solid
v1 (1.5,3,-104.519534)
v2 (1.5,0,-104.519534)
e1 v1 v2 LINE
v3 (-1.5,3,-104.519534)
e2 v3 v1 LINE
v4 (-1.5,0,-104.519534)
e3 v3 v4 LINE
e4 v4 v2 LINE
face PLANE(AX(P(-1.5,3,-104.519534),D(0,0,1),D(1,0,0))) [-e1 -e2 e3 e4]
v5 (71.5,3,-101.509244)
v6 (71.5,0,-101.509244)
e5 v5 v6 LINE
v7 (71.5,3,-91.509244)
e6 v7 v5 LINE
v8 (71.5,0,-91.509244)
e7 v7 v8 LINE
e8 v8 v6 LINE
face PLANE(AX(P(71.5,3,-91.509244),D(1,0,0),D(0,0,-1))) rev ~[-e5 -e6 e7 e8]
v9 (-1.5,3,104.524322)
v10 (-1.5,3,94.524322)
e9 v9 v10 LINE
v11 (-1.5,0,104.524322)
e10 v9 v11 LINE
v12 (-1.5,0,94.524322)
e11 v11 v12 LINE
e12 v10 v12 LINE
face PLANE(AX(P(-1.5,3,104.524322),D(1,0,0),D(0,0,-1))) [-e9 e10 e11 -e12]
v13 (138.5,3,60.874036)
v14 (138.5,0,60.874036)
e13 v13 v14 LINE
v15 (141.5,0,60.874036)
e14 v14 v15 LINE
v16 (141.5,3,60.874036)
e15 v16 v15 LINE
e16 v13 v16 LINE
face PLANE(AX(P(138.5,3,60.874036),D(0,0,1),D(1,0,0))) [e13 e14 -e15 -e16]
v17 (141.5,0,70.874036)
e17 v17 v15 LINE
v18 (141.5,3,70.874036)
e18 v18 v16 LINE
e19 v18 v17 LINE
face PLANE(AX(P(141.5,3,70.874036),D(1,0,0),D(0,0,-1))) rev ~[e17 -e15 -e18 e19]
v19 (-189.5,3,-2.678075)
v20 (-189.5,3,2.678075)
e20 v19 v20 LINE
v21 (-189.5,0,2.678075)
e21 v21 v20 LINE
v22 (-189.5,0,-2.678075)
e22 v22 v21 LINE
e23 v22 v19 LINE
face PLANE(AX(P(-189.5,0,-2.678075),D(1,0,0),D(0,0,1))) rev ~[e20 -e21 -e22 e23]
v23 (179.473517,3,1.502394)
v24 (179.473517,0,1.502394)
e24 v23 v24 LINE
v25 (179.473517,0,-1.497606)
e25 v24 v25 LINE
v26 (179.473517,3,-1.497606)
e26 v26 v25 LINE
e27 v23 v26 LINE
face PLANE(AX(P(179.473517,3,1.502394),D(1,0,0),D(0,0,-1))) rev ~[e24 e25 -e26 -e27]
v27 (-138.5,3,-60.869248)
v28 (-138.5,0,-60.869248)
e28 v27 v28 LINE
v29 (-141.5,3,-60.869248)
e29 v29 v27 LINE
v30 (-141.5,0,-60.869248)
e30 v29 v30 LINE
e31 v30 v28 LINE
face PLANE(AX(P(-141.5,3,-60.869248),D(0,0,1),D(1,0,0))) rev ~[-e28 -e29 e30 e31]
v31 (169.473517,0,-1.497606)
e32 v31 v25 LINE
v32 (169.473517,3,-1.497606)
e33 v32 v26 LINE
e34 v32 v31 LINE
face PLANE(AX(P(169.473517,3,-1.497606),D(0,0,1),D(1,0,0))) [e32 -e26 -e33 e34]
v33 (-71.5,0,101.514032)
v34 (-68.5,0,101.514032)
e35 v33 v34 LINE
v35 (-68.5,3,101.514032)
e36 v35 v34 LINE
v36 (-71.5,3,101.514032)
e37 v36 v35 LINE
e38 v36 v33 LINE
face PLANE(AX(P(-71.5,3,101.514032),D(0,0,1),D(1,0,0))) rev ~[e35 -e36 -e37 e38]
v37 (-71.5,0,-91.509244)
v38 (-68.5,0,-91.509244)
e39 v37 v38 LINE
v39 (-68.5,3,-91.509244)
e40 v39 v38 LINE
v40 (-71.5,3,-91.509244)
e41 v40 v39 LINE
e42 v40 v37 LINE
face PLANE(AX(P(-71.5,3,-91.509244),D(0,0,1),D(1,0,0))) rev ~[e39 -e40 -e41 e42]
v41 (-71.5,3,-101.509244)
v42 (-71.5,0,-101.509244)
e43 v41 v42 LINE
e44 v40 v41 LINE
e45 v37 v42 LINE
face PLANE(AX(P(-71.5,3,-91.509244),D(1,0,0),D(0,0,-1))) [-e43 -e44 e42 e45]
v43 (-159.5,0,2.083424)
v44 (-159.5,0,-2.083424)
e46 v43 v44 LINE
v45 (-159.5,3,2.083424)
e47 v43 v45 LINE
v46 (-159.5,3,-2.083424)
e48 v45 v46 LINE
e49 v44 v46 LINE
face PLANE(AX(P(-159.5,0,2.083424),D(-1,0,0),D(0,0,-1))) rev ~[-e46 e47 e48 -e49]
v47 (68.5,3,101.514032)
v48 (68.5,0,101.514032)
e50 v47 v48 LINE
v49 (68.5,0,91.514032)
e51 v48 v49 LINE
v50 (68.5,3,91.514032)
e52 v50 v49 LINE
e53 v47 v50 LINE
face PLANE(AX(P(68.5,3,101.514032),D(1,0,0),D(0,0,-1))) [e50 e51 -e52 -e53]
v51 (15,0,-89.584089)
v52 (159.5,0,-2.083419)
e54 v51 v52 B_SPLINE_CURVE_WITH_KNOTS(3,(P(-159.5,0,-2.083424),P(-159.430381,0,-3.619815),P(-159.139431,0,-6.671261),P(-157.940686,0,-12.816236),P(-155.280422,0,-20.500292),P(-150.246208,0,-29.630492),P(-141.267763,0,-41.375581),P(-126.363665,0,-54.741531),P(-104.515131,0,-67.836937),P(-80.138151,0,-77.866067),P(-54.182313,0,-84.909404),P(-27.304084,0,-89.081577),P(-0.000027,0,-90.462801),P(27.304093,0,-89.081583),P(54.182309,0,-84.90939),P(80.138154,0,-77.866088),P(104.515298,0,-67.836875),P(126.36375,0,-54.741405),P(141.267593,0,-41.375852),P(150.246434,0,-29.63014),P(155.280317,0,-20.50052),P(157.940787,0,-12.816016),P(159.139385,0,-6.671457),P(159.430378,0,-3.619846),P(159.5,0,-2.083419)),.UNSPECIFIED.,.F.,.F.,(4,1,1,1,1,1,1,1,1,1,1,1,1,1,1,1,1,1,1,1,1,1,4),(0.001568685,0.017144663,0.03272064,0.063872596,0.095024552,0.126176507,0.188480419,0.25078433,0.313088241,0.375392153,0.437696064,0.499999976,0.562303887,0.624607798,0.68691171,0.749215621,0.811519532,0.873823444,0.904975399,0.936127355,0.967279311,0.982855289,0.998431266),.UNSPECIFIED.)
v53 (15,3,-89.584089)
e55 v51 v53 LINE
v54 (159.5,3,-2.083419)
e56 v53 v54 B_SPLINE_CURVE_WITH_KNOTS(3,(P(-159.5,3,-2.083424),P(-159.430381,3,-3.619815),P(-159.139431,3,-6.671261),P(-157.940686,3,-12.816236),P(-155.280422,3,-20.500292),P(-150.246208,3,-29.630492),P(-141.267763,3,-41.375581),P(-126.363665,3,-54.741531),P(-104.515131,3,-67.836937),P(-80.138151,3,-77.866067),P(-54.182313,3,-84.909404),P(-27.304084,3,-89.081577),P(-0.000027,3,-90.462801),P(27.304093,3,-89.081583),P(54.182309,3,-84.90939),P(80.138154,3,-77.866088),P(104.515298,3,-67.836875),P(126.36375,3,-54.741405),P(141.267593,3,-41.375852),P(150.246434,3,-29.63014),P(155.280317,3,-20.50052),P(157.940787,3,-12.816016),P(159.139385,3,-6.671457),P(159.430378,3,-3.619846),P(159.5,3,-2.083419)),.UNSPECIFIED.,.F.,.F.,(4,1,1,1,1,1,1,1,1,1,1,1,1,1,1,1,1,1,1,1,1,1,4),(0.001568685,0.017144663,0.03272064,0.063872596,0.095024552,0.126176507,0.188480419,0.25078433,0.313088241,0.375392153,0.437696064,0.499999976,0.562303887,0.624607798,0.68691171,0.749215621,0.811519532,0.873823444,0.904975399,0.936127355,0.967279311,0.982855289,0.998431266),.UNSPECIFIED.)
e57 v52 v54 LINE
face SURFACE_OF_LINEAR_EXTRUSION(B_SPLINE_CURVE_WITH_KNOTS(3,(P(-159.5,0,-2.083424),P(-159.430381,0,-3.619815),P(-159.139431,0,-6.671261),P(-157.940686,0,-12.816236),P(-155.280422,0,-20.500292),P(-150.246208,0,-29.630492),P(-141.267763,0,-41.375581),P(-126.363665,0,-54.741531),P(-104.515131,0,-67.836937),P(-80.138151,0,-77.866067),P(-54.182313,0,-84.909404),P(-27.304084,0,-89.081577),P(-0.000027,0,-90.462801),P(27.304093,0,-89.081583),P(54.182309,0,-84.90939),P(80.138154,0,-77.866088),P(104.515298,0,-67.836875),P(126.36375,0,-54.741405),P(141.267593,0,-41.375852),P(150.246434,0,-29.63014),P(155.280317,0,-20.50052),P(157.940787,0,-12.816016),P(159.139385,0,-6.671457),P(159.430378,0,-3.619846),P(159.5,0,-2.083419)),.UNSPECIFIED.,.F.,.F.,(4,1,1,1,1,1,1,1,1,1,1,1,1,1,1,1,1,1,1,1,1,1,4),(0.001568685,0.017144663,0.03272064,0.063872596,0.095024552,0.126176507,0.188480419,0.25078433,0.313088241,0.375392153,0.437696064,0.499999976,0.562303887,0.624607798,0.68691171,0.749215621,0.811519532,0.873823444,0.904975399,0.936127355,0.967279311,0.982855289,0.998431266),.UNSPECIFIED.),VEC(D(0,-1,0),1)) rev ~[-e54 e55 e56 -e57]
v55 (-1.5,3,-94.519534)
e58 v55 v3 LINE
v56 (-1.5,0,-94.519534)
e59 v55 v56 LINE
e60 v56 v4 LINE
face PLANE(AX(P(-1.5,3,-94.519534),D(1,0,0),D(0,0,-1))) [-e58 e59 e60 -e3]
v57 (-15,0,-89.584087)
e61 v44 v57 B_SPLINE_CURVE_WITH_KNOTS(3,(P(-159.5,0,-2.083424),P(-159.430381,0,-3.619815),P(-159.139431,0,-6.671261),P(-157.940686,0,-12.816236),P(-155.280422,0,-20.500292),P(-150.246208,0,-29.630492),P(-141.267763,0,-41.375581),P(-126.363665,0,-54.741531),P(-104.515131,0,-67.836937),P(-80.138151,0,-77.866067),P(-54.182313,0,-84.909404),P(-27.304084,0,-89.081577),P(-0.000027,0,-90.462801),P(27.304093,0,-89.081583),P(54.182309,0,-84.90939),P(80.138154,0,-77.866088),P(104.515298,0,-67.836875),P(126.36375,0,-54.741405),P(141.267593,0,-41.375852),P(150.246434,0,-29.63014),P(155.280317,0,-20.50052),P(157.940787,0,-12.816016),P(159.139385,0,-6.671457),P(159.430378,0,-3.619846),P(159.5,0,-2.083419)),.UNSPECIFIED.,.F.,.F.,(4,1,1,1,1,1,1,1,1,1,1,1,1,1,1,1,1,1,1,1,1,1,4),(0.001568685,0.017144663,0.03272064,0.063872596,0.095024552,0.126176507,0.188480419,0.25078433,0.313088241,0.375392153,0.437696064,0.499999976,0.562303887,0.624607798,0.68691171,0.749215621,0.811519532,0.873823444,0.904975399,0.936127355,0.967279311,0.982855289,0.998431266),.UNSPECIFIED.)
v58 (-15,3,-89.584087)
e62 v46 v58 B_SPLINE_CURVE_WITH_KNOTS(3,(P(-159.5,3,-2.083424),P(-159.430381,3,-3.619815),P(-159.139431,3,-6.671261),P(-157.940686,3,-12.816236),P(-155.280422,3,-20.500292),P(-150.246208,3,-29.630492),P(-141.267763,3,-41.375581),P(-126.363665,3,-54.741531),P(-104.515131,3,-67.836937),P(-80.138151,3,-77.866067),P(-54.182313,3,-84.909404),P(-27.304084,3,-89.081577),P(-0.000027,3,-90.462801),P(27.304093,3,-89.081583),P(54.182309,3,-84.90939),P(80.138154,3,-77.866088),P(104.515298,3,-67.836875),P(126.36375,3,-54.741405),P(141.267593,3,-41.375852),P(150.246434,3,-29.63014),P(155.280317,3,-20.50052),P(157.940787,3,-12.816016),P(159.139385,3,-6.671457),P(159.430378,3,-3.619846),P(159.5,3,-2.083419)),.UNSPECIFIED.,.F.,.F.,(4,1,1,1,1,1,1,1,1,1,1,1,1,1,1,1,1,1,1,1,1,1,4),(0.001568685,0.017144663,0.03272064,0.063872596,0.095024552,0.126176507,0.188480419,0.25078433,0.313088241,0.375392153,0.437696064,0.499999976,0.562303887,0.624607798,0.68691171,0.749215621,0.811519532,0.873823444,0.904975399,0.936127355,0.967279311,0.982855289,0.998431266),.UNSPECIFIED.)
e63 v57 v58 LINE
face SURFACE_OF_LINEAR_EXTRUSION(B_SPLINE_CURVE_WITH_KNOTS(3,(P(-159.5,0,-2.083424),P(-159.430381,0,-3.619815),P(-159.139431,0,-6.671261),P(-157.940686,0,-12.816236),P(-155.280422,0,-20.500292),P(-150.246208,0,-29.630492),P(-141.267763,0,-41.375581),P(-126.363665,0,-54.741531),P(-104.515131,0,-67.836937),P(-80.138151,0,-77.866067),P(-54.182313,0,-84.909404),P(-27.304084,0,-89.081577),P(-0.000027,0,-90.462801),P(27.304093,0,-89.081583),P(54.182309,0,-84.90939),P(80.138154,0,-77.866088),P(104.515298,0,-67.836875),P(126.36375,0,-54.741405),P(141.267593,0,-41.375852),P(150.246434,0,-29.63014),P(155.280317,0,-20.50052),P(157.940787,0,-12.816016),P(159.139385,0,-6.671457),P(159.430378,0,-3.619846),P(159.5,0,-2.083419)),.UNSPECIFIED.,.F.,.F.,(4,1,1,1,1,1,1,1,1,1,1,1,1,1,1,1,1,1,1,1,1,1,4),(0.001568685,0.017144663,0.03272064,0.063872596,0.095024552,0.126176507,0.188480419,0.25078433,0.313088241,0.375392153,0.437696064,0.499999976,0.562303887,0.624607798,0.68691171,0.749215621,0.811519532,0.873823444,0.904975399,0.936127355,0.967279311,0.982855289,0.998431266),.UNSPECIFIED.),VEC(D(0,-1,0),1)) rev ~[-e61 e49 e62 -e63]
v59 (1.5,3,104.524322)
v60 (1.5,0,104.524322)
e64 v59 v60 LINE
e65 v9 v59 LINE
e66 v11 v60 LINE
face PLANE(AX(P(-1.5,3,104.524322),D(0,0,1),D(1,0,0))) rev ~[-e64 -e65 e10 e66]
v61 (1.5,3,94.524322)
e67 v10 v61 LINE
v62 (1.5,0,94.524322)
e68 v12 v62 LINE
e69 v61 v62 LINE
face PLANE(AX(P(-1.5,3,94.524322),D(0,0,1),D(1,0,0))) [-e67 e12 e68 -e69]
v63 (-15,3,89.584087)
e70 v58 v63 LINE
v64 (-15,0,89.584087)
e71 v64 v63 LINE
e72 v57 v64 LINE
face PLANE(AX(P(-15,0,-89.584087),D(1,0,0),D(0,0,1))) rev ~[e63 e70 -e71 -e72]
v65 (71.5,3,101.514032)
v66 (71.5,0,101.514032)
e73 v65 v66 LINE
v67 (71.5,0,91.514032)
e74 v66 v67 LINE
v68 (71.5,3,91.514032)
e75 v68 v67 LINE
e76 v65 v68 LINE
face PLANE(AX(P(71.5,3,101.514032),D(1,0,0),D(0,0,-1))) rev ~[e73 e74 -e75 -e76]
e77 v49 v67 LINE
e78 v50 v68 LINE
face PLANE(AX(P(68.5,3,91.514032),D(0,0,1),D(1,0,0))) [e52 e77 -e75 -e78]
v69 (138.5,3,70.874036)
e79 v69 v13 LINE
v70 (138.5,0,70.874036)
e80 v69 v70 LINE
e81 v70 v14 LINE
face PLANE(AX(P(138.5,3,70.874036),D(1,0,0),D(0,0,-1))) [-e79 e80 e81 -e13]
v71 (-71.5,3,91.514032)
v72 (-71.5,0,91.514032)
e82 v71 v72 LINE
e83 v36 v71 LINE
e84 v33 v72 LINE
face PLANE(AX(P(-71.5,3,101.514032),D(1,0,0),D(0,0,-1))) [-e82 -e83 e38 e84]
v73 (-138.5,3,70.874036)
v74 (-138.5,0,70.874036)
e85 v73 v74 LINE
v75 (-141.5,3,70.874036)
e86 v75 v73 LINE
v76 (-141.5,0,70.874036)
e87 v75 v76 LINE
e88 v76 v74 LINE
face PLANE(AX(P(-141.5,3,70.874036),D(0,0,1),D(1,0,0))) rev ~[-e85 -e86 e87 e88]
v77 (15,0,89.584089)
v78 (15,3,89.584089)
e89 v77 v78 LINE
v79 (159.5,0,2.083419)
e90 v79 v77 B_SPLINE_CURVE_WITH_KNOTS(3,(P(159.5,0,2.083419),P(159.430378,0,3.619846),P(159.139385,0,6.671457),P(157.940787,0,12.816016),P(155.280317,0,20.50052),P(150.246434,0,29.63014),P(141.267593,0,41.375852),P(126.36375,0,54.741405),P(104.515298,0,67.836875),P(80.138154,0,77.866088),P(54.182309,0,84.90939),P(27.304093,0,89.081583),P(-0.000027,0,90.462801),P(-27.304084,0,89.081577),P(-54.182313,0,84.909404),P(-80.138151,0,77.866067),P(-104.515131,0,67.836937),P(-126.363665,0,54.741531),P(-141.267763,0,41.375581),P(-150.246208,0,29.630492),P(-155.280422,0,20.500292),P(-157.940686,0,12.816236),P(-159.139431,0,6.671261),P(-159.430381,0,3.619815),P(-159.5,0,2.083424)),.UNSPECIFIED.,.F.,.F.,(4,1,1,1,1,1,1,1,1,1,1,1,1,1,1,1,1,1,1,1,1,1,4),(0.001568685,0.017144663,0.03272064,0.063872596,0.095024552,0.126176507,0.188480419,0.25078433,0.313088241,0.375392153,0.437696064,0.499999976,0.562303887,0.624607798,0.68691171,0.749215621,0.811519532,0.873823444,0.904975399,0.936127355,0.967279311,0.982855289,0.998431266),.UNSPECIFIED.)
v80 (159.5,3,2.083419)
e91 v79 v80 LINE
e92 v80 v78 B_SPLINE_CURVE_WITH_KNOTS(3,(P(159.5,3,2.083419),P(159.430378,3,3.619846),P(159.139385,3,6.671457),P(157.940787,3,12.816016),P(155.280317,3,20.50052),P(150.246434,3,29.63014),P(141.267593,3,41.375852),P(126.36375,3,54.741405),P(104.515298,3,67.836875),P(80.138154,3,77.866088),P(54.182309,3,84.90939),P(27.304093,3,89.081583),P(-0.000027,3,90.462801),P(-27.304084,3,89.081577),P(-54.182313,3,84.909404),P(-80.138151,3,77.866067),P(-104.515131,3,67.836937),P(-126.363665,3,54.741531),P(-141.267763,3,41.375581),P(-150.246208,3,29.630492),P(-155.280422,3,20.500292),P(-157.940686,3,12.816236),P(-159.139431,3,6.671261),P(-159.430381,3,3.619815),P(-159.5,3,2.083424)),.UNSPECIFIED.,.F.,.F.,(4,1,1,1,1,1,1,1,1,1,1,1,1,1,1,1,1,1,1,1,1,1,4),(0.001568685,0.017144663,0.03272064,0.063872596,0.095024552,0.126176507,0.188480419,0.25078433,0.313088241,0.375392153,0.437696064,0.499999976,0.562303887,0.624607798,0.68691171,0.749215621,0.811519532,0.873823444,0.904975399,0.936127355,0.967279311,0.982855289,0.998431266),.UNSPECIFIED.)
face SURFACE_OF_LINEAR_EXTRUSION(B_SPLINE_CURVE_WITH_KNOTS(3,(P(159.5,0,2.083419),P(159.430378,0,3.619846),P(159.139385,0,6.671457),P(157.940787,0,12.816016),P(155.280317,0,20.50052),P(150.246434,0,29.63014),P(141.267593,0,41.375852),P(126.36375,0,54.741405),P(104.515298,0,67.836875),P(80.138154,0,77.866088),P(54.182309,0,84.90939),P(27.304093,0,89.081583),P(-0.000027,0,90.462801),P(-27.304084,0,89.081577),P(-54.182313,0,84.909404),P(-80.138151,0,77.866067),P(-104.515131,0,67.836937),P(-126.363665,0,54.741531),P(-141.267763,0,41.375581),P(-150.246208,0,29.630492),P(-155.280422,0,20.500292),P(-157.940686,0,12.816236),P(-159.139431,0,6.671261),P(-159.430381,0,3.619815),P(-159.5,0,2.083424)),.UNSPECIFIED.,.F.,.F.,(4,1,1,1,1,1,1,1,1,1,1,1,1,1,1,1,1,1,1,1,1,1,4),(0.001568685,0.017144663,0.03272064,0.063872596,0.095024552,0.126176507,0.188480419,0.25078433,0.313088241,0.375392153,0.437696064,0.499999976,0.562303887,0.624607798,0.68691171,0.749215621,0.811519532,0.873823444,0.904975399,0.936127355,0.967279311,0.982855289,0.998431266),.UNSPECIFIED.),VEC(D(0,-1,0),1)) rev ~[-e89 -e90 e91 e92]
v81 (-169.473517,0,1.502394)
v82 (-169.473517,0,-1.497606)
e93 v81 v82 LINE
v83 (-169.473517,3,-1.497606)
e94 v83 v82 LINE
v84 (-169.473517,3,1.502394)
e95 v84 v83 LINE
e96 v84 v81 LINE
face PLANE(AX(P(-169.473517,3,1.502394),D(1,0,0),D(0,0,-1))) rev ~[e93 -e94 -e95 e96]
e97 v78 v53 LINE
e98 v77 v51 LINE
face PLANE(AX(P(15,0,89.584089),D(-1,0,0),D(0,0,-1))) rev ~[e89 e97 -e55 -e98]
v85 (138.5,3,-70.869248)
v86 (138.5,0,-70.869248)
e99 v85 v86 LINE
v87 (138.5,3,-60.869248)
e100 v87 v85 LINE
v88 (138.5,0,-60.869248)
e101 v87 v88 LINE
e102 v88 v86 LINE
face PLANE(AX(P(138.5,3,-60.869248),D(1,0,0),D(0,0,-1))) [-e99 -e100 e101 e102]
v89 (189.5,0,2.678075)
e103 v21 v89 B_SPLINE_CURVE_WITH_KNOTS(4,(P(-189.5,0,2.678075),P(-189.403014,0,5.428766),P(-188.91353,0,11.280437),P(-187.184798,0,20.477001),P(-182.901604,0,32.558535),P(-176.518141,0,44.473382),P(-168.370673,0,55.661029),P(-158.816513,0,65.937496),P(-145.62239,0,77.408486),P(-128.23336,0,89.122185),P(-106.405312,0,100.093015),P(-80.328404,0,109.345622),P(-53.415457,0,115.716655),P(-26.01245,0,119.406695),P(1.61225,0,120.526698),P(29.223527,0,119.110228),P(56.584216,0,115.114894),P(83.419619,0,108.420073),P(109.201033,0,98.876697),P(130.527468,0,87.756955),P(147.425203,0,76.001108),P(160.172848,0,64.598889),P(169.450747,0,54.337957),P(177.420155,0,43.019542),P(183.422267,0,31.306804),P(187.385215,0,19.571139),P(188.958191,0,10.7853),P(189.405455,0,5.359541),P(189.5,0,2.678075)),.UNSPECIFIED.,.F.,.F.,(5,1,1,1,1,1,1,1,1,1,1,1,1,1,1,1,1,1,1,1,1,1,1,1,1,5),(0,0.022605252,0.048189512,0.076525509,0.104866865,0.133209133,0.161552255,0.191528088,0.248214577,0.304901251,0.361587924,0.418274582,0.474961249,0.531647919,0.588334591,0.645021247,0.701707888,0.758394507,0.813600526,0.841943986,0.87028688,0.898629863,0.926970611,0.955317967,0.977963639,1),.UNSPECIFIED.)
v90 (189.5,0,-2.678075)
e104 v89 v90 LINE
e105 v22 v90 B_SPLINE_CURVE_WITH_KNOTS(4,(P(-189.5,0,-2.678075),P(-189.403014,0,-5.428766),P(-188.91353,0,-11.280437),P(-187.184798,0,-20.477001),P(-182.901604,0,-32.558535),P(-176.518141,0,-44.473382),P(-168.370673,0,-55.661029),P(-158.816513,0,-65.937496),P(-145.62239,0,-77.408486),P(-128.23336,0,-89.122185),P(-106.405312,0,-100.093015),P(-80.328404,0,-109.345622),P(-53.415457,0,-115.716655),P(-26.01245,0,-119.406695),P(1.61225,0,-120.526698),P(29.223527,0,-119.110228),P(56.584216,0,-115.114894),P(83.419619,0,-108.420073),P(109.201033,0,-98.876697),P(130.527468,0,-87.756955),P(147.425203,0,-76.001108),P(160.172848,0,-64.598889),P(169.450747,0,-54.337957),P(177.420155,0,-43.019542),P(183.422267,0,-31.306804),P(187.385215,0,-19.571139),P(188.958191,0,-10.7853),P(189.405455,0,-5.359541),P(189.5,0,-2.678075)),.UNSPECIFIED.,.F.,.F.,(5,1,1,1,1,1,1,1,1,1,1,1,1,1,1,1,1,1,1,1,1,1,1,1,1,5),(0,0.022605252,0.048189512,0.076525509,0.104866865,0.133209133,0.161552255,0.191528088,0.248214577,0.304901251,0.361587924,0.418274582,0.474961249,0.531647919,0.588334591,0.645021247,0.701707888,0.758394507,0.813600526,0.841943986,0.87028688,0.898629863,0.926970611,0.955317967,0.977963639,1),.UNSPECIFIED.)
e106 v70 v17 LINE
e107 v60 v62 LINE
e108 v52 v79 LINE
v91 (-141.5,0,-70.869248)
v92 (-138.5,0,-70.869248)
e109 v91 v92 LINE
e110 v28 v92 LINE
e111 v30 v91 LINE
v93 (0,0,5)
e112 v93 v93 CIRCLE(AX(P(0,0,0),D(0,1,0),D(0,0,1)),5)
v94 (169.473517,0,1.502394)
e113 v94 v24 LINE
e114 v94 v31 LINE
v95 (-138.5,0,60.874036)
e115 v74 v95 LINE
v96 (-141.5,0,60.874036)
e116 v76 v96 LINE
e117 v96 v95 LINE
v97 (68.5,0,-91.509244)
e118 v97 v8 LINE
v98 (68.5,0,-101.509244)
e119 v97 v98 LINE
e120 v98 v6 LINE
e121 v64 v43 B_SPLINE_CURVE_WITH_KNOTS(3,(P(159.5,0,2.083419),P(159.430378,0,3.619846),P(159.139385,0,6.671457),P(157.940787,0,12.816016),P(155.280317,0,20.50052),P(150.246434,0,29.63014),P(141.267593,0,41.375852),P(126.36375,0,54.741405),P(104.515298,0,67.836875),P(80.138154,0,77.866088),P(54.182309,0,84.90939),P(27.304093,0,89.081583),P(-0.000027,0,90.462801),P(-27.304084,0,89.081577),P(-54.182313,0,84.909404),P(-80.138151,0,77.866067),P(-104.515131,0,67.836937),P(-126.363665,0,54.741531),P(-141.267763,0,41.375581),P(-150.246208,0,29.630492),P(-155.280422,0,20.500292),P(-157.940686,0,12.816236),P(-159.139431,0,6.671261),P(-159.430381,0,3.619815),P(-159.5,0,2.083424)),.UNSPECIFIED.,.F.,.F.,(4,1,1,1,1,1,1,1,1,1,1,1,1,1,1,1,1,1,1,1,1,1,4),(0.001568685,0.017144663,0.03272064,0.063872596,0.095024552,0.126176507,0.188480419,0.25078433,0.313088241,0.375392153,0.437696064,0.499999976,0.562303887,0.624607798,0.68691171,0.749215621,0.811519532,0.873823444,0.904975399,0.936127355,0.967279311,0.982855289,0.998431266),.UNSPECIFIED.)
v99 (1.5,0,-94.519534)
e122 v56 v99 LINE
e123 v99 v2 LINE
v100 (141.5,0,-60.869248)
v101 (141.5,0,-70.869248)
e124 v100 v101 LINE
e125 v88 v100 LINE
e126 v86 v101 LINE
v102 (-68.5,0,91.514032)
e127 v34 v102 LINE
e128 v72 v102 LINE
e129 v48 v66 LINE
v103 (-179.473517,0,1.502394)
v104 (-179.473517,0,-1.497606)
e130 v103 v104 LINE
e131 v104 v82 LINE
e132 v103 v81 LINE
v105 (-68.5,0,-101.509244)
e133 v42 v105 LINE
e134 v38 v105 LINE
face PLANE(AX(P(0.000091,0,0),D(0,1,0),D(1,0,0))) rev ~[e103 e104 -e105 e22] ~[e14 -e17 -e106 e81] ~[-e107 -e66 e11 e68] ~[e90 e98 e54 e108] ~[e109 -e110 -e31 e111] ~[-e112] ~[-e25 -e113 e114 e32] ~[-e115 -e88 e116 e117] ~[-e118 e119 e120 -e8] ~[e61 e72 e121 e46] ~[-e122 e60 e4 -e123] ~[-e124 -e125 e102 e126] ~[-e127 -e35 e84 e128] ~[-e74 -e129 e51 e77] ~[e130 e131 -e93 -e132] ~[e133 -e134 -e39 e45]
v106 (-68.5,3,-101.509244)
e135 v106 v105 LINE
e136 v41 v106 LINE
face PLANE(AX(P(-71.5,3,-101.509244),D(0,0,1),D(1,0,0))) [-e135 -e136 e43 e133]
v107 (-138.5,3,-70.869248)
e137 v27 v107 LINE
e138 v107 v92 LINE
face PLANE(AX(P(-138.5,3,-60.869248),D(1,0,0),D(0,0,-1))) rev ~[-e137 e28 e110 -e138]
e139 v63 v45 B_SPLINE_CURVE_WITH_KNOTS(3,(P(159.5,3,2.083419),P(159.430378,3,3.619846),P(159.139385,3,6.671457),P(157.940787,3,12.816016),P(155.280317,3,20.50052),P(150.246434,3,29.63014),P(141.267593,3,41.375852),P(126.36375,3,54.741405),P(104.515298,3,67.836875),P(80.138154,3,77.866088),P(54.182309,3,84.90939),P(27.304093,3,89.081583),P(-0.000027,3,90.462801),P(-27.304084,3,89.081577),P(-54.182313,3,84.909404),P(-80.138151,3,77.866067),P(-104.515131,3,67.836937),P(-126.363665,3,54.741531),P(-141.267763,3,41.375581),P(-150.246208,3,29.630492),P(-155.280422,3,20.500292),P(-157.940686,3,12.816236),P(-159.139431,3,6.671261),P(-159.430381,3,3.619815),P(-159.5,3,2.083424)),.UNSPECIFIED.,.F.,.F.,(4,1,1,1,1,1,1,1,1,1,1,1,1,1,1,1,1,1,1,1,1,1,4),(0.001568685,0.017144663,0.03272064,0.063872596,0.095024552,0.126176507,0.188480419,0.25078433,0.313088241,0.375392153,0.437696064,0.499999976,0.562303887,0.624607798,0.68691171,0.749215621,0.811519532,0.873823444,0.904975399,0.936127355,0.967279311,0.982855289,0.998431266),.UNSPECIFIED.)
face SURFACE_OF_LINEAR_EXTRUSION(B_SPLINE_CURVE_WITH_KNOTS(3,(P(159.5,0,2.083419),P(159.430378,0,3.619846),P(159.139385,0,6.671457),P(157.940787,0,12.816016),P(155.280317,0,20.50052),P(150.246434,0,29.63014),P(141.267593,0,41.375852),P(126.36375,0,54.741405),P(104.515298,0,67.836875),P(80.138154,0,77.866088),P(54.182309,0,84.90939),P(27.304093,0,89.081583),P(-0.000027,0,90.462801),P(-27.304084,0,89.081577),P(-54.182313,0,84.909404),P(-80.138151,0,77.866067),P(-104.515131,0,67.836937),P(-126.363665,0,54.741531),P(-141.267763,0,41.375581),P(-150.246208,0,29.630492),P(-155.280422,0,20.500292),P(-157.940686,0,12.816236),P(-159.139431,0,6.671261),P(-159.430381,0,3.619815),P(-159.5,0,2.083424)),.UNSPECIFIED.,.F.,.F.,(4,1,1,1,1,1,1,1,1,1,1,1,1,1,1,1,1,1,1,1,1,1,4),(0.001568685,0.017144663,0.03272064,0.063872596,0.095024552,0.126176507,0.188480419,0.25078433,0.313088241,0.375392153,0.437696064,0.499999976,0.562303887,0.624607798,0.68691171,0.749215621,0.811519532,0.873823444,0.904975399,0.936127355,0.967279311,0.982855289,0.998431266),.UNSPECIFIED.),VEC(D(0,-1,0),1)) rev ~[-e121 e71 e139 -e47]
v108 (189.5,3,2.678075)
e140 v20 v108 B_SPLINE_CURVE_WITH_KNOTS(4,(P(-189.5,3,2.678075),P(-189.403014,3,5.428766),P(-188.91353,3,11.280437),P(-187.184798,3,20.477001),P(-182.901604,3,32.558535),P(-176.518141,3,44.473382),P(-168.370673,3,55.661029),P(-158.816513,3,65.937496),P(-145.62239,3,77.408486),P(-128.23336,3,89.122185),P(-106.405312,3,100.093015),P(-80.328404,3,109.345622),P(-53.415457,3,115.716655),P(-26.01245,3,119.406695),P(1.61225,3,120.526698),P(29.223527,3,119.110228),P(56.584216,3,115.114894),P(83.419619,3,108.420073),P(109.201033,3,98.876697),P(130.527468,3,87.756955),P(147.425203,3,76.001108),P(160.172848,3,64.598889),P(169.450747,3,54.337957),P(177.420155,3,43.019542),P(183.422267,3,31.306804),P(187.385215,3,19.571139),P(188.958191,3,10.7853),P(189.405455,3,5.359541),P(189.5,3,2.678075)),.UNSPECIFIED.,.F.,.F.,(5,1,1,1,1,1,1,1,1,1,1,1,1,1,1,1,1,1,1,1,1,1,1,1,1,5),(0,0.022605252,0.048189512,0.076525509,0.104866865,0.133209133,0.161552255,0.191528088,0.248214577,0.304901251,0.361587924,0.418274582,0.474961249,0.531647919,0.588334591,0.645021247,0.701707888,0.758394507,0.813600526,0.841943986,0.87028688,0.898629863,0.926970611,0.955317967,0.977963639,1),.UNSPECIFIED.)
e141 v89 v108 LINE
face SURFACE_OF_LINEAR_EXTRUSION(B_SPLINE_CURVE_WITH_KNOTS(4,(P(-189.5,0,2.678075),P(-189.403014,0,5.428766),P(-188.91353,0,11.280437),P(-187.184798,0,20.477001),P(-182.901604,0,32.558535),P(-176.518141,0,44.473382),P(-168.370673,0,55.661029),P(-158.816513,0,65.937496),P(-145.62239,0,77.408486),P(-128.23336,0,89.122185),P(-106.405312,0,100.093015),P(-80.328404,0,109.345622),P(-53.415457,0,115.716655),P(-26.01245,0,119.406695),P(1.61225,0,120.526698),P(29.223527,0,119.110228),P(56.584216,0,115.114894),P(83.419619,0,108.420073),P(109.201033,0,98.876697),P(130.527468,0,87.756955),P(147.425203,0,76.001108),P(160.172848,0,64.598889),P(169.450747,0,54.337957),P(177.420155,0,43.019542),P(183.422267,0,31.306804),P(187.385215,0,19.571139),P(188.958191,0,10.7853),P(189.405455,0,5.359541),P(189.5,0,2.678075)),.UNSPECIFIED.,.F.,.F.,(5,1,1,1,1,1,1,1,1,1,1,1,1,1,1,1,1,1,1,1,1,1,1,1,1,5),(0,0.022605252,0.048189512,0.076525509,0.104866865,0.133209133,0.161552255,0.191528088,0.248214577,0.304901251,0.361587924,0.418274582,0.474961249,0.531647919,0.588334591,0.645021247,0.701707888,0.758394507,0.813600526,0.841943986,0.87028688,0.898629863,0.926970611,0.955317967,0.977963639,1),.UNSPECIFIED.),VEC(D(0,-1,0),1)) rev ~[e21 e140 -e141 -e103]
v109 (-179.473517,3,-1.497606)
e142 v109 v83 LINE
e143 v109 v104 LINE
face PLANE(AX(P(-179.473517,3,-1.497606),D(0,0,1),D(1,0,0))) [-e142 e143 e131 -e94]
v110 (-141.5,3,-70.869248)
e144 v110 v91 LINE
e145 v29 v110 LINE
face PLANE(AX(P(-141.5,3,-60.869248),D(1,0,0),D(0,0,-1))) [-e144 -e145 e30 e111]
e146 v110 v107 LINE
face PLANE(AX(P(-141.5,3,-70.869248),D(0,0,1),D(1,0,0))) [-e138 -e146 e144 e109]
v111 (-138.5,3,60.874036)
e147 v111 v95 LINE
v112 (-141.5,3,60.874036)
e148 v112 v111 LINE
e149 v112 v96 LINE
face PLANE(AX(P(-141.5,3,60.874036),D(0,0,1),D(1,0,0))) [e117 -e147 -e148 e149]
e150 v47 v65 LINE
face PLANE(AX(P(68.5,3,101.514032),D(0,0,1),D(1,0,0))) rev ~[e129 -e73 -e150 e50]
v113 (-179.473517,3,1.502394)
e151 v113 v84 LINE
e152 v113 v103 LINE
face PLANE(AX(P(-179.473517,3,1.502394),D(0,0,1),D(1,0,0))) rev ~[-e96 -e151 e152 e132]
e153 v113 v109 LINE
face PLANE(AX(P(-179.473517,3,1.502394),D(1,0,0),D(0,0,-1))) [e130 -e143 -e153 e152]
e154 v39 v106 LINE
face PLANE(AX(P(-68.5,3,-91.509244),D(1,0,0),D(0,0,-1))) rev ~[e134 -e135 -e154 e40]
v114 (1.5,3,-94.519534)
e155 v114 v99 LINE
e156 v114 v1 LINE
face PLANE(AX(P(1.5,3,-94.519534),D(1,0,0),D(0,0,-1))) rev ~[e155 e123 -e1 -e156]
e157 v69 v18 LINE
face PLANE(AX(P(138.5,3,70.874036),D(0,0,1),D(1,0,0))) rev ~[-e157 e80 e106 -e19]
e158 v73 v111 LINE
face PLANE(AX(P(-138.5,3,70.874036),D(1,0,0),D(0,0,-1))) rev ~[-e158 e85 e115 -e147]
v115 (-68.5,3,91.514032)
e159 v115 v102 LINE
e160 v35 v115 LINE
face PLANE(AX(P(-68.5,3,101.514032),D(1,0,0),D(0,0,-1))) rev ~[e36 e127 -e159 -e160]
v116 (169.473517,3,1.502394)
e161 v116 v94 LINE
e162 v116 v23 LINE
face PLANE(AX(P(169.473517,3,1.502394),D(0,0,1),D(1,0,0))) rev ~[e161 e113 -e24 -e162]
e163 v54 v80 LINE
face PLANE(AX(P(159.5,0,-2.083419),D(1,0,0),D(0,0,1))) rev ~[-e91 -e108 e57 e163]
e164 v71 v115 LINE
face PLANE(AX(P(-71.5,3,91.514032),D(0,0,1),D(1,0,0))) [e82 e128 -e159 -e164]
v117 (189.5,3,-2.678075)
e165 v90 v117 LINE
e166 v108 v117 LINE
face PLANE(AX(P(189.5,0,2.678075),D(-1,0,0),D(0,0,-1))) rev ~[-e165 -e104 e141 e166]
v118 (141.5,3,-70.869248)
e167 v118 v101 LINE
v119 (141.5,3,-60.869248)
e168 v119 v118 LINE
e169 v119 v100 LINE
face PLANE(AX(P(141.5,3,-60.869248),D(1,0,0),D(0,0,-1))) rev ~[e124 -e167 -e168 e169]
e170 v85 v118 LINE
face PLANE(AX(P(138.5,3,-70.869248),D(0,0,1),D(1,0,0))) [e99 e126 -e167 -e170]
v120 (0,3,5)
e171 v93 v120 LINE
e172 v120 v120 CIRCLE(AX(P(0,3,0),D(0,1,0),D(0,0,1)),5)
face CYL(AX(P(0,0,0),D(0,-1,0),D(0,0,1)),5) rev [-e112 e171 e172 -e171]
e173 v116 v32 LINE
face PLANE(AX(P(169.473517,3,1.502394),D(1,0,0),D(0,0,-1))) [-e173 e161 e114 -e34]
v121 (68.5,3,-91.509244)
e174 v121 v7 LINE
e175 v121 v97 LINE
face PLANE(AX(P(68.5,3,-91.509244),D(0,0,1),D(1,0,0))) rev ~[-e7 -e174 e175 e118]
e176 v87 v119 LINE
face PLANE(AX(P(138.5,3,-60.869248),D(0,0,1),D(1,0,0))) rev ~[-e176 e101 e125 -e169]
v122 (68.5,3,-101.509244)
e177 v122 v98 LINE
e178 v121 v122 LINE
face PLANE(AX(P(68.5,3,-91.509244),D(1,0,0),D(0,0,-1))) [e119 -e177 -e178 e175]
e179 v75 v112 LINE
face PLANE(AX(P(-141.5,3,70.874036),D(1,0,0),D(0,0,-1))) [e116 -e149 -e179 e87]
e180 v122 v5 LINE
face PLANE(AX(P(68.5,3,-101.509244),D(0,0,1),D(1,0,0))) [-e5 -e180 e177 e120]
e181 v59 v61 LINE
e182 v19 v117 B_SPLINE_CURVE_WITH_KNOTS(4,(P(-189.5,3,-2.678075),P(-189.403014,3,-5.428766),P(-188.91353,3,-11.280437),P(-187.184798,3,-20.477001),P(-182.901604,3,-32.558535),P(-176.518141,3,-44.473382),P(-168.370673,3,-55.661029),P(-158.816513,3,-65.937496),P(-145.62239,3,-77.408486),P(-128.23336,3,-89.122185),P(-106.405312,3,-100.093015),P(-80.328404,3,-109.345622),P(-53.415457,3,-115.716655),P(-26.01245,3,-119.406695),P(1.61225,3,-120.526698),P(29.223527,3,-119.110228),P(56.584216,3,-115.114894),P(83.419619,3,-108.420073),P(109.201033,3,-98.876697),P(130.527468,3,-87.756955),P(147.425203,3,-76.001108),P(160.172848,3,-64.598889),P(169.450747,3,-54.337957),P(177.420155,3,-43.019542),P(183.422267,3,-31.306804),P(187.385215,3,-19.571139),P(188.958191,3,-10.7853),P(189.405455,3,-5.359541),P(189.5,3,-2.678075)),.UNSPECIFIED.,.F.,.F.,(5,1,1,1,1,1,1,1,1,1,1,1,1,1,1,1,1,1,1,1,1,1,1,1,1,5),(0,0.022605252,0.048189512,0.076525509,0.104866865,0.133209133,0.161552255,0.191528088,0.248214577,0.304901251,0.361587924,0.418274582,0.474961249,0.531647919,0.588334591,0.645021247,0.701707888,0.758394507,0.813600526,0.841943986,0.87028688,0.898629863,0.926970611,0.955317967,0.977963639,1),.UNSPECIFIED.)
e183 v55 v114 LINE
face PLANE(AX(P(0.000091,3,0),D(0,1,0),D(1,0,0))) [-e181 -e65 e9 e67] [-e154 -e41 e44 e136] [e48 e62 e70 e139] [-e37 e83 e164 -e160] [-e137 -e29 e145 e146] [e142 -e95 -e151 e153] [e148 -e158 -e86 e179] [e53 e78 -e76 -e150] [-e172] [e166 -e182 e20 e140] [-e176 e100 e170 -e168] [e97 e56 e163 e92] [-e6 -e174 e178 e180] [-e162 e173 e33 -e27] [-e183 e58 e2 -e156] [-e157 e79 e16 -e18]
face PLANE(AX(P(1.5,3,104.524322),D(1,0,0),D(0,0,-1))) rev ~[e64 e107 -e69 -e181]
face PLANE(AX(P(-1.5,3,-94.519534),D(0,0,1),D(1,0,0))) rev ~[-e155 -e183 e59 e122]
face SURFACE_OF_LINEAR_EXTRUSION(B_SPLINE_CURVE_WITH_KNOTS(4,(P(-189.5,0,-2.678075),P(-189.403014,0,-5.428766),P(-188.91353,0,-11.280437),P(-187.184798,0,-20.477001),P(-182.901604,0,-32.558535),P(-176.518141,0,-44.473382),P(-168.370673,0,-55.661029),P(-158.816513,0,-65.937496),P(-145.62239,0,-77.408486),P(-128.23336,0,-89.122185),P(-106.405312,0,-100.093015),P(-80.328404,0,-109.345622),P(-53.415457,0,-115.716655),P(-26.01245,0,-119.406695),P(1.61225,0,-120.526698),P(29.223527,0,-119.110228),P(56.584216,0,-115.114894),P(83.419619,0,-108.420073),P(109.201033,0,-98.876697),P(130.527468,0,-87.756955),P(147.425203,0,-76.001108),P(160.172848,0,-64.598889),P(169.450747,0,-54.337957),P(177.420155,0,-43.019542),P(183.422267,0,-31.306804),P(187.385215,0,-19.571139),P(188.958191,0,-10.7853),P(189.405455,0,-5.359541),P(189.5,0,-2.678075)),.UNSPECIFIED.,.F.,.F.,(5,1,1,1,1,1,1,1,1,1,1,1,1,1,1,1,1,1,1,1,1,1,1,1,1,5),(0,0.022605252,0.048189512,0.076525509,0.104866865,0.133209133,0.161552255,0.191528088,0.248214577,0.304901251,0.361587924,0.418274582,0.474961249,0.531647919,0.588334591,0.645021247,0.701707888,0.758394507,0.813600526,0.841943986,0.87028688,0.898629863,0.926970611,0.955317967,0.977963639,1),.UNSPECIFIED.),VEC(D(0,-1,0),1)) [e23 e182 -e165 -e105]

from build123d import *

# Parameters (mm, degrees)
SKETCH_1_R          = 5
EXTRUDE_1_DEPTH     = 3
SKETCH_2_W          = 3
SKETCH_2_H          = 10
SKETCH_2_W_2        = 10
SKETCH_2_H_2        = 3
CUT_EXTRUDE_1_DEPTH = 225.320807502


with BuildPart() as part:
    # 草图1 → 凸台-拉伸1 (new body)
    # profile 1 of 2: a face of its own
    with BuildSketch(Plane(origin=(0, 0, 0), x_dir=(1, 0, 0), z_dir=(0, 1, 0))):
        with BuildLine():
            Line((-189.5, 2.67807522), (-189.5, -2.67807522))
            add(Edge.make_bspline(
                [(-189.5, -2.67807522), (-189.403013737, -5.4287659), (-188.913529521, -11.280436832), (-187.184797767, -20.477000703), (-182.901604371, -32.558534689), (-176.518140993, -44.473382271), (-168.370672682, -55.661029172), (-158.816512899, -65.937496211), (-145.622389947, -77.408485785), (-128.233359888, -89.122185343), (-106.405311843, -100.093014988), (-80.328404186, -109.345622083), (-53.415456511, -115.716654886), (-26.01245021, -119.406694681), (1.612249886, -120.52669773), (29.223526803, -119.1102282), (56.584216313, -115.114894197), (83.419619157, -108.420073225), (109.201033267, -98.876697436), (130.527468144, -87.756954706), (147.425203381, -76.001107817), (160.172847856, -64.598888808), (169.450747209, -54.337956503), (177.420154922, -43.019542435), (183.422267467, -31.306804293), (187.385215446, -19.571139093), (188.958191111, -10.7853005), (189.405454524, -5.359541143), (189.5, -2.67807522)],
                knots=[0, 0, 0, 0, 0, 0.022605252, 0.048189512, 0.076525509, 0.104866865, 0.133209133, 0.161552255, 0.191528088, 0.248214577, 0.304901251, 0.361587924, 0.418274582, 0.474961249, 0.531647919, 0.588334591, 0.645021247, 0.701707888, 0.758394507, 0.813600526, 0.841943986, 0.87028688, 0.898629863, 0.926970611, 0.955317967, 0.977963639, 1, 1, 1, 1, 1], degree=4))
            Line((189.5, -2.67807522), (189.5, 2.67807522))
            add(Edge.make_bspline(
                [(-189.5, 2.67807522), (-189.403013737, 5.4287659), (-188.913529521, 11.280436832), (-187.184797767, 20.477000703), (-182.901604371, 32.558534689), (-176.518140993, 44.473382271), (-168.370672682, 55.661029172), (-158.816512899, 65.937496211), (-145.622389947, 77.408485785), (-128.233359888, 89.122185343), (-106.405311843, 100.093014988), (-80.328404186, 109.345622083), (-53.415456511, 115.716654886), (-26.01245021, 119.406694681), (1.612249886, 120.52669773), (29.223526803, 119.1102282), (56.584216313, 115.114894197), (83.419619157, 108.420073225), (109.201033267, 98.876697436), (130.527468144, 87.756954706), (147.425203381, 76.001107817), (160.172847856, 64.598888808), (169.450747209, 54.337956503), (177.420154922, 43.019542435), (183.422267467, 31.306804293), (187.385215446, 19.571139093), (188.958191111, 10.7853005), (189.405454524, 5.359541143), (189.5, 2.67807522)],
                knots=[0, 0, 0, 0, 0, 0.022605252, 0.048189512, 0.076525509, 0.104866865, 0.133209133, 0.161552255, 0.191528088, 0.248214577, 0.304901251, 0.361587924, 0.418274582, 0.474961249, 0.531647919, 0.588334591, 0.645021247, 0.701707888, 0.758394507, 0.813600526, 0.841943986, 0.87028688, 0.898629863, 0.926970611, 0.955317967, 0.977963639, 1, 1, 1, 1, 1], degree=4))
        make_face()
        with BuildLine():
            Line((159.5, 2.083418932), (159.5, -2.083418932))
            add(Edge.make_bspline(
                [(159.5, -2.083418932), (159.430377933, -3.619846345), (159.139385215, -6.671456978), (157.940786615, -12.816015531), (155.280316673, -20.500519912), (150.2464343, -29.63014035), (141.267593425, -41.375851732), (126.3637498, -54.741405415), (104.515298354, -67.83687478), (80.138153839, -77.866087876), (54.182309112, -84.909390201), (27.304092868, -89.081582998), (-2.6913e-05, -90.462801356), (-27.304083634, -89.081576827), (-54.182312778, -84.909404424), (-80.138151247, -77.866066645), (-104.515130919, -67.836936962), (-126.363664513, -54.74153076), (-141.267763099, -41.375581268), (-150.246208112, -29.630491802), (-155.280421928, -20.500291974), (-157.940686294, -12.816236482), (-159.139431477, -6.671261076), (-159.43038084, -3.619814978), (-159.5, -2.083423638)],
                knots=[0.001568685, 0.001568685, 0.001568685, 0.001568685, 0.017144663, 0.03272064, 0.063872596, 0.095024552, 0.126176507, 0.188480419, 0.25078433, 0.313088241, 0.375392153, 0.437696064, 0.499999976, 0.562303887, 0.624607798, 0.68691171, 0.749215621, 0.811519532, 0.873823444, 0.904975399, 0.936127355, 0.967279311, 0.982855289, 0.998431266, 0.998431266, 0.998431266, 0.998431266], degree=3))
            Line((-159.5, -2.083423638), (-159.5, 2.083423638))
            add(Edge.make_bspline(
                [(-159.5, 2.083423638), (-159.43038084, 3.619814978), (-159.139431477, 6.671261076), (-157.940686294, 12.816236482), (-155.280421928, 20.500291974), (-150.246208112, 29.630491802), (-141.267763099, 41.375581268), (-126.363664513, 54.74153076), (-104.515130919, 67.836936962), (-80.138151247, 77.866066645), (-54.182312778, 84.909404424), (-27.304083634, 89.081576827), (-2.6913e-05, 90.462801356), (27.304092868, 89.081582998), (54.182309112, 84.909390201), (80.138153839, 77.866087876), (104.515298354, 67.83687478), (126.3637498, 54.741405415), (141.267593425, 41.375851732), (150.2464343, 29.63014035), (155.280316673, 20.500519912), (157.940786615, 12.816015531), (159.139385215, 6.671456978), (159.430377933, 3.619846345), (159.5, 2.083418932)],
                knots=[0.001568685, 0.001568685, 0.001568685, 0.001568685, 0.017144663, 0.03272064, 0.063872596, 0.095024552, 0.126176507, 0.188480419, 0.25078433, 0.313088241, 0.375392153, 0.437696064, 0.499999976, 0.562303887, 0.624607798, 0.68691171, 0.749215621, 0.811519532, 0.873823444, 0.904975399, 0.936127355, 0.967279311, 0.982855289, 0.998431266, 0.998431266, 0.998431266, 0.998431266], degree=3))
        make_face(mode=Mode.SUBTRACT)
    # profile 2 of 2: a face of its own
    with BuildSketch(Plane(origin=(0, 0, 0), x_dir=(1, 0, 0), z_dir=(0, 1, 0))):
        with BuildLine():
            Line((15, -89.584088933), (15, 89.584088933))
            add(Edge.make_bspline(
                [(-15, 89.584087357), (-10.007870789, 89.863221211), (-1.3117e-05, 90.141566253), (10.007857262, 89.863223114), (15, 89.584088933)],
                knots=[0.465745288, 0.465745288, 0.465745288, 0.465745288, 0.499999976, 0.534254707, 0.534254707, 0.534254707, 0.534254707], degree=3))
            Line((-15, 89.584087357), (-15, -89.584087357))
            add(Edge.make_bspline(
                [(15, -89.584088933), (10.007857262, -89.863223114), (-1.3117e-05, -90.141566253), (-10.007870789, -89.863221211), (-15, -89.584087357)],
                knots=[0.465745244, 0.465745244, 0.465745244, 0.465745244, 0.499999976, 0.534254663, 0.534254663, 0.534254663, 0.534254663], degree=3))
        make_face()
        with Locations(Location((0, 0, 0), (0, 0, 270))):
            Circle(SKETCH_1_R, mode=Mode.SUBTRACT)
    extrude(amount=EXTRUDE_1_DEPTH)

    # 草图2 → 切除-拉伸1 (cut, through all)
    with BuildSketch(Plane(origin=(0, 3, 0), x_dir=(1, 0, 0), z_dir=(0, 1, 0))):
        with Locations((140, -65.874036058)):
            Rectangle(SKETCH_2_W, SKETCH_2_H)
        with Locations((174.473517333, -0.002394208)):
            Rectangle(SKETCH_2_W_2, SKETCH_2_H_2)
        with Locations((140, 65.869247642)):
            Rectangle(SKETCH_2_W, SKETCH_2_H)
        with Locations((70, -96.514031923)):
            Rectangle(SKETCH_2_W, SKETCH_2_H)
        with Locations((70, 96.509243508)):
            Rectangle(SKETCH_2_W, SKETCH_2_H)
        with Locations((0, 99.519533663)):
            Rectangle(SKETCH_2_W, SKETCH_2_H)
        with Locations((0, -99.524322078)):
            Rectangle(SKETCH_2_W, SKETCH_2_H)
        with Locations((-70, -96.514031923)):
            Rectangle(SKETCH_2_W, SKETCH_2_H)
        with Locations((-140, -65.874036058)):
            Rectangle(SKETCH_2_W, SKETCH_2_H)
        with Locations((-174.473517333, -0.002394208)):
            Rectangle(SKETCH_2_W_2, SKETCH_2_H_2)
        with Locations((-140, 65.869247642)):
            Rectangle(SKETCH_2_W, SKETCH_2_H)
        with Locations((-70, 96.509243508)):
            Rectangle(SKETCH_2_W, SKETCH_2_H)
    extrude(amount=-CUT_EXTRUDE_1_DEPTH, mode=Mode.SUBTRACT)


solid = part.part
